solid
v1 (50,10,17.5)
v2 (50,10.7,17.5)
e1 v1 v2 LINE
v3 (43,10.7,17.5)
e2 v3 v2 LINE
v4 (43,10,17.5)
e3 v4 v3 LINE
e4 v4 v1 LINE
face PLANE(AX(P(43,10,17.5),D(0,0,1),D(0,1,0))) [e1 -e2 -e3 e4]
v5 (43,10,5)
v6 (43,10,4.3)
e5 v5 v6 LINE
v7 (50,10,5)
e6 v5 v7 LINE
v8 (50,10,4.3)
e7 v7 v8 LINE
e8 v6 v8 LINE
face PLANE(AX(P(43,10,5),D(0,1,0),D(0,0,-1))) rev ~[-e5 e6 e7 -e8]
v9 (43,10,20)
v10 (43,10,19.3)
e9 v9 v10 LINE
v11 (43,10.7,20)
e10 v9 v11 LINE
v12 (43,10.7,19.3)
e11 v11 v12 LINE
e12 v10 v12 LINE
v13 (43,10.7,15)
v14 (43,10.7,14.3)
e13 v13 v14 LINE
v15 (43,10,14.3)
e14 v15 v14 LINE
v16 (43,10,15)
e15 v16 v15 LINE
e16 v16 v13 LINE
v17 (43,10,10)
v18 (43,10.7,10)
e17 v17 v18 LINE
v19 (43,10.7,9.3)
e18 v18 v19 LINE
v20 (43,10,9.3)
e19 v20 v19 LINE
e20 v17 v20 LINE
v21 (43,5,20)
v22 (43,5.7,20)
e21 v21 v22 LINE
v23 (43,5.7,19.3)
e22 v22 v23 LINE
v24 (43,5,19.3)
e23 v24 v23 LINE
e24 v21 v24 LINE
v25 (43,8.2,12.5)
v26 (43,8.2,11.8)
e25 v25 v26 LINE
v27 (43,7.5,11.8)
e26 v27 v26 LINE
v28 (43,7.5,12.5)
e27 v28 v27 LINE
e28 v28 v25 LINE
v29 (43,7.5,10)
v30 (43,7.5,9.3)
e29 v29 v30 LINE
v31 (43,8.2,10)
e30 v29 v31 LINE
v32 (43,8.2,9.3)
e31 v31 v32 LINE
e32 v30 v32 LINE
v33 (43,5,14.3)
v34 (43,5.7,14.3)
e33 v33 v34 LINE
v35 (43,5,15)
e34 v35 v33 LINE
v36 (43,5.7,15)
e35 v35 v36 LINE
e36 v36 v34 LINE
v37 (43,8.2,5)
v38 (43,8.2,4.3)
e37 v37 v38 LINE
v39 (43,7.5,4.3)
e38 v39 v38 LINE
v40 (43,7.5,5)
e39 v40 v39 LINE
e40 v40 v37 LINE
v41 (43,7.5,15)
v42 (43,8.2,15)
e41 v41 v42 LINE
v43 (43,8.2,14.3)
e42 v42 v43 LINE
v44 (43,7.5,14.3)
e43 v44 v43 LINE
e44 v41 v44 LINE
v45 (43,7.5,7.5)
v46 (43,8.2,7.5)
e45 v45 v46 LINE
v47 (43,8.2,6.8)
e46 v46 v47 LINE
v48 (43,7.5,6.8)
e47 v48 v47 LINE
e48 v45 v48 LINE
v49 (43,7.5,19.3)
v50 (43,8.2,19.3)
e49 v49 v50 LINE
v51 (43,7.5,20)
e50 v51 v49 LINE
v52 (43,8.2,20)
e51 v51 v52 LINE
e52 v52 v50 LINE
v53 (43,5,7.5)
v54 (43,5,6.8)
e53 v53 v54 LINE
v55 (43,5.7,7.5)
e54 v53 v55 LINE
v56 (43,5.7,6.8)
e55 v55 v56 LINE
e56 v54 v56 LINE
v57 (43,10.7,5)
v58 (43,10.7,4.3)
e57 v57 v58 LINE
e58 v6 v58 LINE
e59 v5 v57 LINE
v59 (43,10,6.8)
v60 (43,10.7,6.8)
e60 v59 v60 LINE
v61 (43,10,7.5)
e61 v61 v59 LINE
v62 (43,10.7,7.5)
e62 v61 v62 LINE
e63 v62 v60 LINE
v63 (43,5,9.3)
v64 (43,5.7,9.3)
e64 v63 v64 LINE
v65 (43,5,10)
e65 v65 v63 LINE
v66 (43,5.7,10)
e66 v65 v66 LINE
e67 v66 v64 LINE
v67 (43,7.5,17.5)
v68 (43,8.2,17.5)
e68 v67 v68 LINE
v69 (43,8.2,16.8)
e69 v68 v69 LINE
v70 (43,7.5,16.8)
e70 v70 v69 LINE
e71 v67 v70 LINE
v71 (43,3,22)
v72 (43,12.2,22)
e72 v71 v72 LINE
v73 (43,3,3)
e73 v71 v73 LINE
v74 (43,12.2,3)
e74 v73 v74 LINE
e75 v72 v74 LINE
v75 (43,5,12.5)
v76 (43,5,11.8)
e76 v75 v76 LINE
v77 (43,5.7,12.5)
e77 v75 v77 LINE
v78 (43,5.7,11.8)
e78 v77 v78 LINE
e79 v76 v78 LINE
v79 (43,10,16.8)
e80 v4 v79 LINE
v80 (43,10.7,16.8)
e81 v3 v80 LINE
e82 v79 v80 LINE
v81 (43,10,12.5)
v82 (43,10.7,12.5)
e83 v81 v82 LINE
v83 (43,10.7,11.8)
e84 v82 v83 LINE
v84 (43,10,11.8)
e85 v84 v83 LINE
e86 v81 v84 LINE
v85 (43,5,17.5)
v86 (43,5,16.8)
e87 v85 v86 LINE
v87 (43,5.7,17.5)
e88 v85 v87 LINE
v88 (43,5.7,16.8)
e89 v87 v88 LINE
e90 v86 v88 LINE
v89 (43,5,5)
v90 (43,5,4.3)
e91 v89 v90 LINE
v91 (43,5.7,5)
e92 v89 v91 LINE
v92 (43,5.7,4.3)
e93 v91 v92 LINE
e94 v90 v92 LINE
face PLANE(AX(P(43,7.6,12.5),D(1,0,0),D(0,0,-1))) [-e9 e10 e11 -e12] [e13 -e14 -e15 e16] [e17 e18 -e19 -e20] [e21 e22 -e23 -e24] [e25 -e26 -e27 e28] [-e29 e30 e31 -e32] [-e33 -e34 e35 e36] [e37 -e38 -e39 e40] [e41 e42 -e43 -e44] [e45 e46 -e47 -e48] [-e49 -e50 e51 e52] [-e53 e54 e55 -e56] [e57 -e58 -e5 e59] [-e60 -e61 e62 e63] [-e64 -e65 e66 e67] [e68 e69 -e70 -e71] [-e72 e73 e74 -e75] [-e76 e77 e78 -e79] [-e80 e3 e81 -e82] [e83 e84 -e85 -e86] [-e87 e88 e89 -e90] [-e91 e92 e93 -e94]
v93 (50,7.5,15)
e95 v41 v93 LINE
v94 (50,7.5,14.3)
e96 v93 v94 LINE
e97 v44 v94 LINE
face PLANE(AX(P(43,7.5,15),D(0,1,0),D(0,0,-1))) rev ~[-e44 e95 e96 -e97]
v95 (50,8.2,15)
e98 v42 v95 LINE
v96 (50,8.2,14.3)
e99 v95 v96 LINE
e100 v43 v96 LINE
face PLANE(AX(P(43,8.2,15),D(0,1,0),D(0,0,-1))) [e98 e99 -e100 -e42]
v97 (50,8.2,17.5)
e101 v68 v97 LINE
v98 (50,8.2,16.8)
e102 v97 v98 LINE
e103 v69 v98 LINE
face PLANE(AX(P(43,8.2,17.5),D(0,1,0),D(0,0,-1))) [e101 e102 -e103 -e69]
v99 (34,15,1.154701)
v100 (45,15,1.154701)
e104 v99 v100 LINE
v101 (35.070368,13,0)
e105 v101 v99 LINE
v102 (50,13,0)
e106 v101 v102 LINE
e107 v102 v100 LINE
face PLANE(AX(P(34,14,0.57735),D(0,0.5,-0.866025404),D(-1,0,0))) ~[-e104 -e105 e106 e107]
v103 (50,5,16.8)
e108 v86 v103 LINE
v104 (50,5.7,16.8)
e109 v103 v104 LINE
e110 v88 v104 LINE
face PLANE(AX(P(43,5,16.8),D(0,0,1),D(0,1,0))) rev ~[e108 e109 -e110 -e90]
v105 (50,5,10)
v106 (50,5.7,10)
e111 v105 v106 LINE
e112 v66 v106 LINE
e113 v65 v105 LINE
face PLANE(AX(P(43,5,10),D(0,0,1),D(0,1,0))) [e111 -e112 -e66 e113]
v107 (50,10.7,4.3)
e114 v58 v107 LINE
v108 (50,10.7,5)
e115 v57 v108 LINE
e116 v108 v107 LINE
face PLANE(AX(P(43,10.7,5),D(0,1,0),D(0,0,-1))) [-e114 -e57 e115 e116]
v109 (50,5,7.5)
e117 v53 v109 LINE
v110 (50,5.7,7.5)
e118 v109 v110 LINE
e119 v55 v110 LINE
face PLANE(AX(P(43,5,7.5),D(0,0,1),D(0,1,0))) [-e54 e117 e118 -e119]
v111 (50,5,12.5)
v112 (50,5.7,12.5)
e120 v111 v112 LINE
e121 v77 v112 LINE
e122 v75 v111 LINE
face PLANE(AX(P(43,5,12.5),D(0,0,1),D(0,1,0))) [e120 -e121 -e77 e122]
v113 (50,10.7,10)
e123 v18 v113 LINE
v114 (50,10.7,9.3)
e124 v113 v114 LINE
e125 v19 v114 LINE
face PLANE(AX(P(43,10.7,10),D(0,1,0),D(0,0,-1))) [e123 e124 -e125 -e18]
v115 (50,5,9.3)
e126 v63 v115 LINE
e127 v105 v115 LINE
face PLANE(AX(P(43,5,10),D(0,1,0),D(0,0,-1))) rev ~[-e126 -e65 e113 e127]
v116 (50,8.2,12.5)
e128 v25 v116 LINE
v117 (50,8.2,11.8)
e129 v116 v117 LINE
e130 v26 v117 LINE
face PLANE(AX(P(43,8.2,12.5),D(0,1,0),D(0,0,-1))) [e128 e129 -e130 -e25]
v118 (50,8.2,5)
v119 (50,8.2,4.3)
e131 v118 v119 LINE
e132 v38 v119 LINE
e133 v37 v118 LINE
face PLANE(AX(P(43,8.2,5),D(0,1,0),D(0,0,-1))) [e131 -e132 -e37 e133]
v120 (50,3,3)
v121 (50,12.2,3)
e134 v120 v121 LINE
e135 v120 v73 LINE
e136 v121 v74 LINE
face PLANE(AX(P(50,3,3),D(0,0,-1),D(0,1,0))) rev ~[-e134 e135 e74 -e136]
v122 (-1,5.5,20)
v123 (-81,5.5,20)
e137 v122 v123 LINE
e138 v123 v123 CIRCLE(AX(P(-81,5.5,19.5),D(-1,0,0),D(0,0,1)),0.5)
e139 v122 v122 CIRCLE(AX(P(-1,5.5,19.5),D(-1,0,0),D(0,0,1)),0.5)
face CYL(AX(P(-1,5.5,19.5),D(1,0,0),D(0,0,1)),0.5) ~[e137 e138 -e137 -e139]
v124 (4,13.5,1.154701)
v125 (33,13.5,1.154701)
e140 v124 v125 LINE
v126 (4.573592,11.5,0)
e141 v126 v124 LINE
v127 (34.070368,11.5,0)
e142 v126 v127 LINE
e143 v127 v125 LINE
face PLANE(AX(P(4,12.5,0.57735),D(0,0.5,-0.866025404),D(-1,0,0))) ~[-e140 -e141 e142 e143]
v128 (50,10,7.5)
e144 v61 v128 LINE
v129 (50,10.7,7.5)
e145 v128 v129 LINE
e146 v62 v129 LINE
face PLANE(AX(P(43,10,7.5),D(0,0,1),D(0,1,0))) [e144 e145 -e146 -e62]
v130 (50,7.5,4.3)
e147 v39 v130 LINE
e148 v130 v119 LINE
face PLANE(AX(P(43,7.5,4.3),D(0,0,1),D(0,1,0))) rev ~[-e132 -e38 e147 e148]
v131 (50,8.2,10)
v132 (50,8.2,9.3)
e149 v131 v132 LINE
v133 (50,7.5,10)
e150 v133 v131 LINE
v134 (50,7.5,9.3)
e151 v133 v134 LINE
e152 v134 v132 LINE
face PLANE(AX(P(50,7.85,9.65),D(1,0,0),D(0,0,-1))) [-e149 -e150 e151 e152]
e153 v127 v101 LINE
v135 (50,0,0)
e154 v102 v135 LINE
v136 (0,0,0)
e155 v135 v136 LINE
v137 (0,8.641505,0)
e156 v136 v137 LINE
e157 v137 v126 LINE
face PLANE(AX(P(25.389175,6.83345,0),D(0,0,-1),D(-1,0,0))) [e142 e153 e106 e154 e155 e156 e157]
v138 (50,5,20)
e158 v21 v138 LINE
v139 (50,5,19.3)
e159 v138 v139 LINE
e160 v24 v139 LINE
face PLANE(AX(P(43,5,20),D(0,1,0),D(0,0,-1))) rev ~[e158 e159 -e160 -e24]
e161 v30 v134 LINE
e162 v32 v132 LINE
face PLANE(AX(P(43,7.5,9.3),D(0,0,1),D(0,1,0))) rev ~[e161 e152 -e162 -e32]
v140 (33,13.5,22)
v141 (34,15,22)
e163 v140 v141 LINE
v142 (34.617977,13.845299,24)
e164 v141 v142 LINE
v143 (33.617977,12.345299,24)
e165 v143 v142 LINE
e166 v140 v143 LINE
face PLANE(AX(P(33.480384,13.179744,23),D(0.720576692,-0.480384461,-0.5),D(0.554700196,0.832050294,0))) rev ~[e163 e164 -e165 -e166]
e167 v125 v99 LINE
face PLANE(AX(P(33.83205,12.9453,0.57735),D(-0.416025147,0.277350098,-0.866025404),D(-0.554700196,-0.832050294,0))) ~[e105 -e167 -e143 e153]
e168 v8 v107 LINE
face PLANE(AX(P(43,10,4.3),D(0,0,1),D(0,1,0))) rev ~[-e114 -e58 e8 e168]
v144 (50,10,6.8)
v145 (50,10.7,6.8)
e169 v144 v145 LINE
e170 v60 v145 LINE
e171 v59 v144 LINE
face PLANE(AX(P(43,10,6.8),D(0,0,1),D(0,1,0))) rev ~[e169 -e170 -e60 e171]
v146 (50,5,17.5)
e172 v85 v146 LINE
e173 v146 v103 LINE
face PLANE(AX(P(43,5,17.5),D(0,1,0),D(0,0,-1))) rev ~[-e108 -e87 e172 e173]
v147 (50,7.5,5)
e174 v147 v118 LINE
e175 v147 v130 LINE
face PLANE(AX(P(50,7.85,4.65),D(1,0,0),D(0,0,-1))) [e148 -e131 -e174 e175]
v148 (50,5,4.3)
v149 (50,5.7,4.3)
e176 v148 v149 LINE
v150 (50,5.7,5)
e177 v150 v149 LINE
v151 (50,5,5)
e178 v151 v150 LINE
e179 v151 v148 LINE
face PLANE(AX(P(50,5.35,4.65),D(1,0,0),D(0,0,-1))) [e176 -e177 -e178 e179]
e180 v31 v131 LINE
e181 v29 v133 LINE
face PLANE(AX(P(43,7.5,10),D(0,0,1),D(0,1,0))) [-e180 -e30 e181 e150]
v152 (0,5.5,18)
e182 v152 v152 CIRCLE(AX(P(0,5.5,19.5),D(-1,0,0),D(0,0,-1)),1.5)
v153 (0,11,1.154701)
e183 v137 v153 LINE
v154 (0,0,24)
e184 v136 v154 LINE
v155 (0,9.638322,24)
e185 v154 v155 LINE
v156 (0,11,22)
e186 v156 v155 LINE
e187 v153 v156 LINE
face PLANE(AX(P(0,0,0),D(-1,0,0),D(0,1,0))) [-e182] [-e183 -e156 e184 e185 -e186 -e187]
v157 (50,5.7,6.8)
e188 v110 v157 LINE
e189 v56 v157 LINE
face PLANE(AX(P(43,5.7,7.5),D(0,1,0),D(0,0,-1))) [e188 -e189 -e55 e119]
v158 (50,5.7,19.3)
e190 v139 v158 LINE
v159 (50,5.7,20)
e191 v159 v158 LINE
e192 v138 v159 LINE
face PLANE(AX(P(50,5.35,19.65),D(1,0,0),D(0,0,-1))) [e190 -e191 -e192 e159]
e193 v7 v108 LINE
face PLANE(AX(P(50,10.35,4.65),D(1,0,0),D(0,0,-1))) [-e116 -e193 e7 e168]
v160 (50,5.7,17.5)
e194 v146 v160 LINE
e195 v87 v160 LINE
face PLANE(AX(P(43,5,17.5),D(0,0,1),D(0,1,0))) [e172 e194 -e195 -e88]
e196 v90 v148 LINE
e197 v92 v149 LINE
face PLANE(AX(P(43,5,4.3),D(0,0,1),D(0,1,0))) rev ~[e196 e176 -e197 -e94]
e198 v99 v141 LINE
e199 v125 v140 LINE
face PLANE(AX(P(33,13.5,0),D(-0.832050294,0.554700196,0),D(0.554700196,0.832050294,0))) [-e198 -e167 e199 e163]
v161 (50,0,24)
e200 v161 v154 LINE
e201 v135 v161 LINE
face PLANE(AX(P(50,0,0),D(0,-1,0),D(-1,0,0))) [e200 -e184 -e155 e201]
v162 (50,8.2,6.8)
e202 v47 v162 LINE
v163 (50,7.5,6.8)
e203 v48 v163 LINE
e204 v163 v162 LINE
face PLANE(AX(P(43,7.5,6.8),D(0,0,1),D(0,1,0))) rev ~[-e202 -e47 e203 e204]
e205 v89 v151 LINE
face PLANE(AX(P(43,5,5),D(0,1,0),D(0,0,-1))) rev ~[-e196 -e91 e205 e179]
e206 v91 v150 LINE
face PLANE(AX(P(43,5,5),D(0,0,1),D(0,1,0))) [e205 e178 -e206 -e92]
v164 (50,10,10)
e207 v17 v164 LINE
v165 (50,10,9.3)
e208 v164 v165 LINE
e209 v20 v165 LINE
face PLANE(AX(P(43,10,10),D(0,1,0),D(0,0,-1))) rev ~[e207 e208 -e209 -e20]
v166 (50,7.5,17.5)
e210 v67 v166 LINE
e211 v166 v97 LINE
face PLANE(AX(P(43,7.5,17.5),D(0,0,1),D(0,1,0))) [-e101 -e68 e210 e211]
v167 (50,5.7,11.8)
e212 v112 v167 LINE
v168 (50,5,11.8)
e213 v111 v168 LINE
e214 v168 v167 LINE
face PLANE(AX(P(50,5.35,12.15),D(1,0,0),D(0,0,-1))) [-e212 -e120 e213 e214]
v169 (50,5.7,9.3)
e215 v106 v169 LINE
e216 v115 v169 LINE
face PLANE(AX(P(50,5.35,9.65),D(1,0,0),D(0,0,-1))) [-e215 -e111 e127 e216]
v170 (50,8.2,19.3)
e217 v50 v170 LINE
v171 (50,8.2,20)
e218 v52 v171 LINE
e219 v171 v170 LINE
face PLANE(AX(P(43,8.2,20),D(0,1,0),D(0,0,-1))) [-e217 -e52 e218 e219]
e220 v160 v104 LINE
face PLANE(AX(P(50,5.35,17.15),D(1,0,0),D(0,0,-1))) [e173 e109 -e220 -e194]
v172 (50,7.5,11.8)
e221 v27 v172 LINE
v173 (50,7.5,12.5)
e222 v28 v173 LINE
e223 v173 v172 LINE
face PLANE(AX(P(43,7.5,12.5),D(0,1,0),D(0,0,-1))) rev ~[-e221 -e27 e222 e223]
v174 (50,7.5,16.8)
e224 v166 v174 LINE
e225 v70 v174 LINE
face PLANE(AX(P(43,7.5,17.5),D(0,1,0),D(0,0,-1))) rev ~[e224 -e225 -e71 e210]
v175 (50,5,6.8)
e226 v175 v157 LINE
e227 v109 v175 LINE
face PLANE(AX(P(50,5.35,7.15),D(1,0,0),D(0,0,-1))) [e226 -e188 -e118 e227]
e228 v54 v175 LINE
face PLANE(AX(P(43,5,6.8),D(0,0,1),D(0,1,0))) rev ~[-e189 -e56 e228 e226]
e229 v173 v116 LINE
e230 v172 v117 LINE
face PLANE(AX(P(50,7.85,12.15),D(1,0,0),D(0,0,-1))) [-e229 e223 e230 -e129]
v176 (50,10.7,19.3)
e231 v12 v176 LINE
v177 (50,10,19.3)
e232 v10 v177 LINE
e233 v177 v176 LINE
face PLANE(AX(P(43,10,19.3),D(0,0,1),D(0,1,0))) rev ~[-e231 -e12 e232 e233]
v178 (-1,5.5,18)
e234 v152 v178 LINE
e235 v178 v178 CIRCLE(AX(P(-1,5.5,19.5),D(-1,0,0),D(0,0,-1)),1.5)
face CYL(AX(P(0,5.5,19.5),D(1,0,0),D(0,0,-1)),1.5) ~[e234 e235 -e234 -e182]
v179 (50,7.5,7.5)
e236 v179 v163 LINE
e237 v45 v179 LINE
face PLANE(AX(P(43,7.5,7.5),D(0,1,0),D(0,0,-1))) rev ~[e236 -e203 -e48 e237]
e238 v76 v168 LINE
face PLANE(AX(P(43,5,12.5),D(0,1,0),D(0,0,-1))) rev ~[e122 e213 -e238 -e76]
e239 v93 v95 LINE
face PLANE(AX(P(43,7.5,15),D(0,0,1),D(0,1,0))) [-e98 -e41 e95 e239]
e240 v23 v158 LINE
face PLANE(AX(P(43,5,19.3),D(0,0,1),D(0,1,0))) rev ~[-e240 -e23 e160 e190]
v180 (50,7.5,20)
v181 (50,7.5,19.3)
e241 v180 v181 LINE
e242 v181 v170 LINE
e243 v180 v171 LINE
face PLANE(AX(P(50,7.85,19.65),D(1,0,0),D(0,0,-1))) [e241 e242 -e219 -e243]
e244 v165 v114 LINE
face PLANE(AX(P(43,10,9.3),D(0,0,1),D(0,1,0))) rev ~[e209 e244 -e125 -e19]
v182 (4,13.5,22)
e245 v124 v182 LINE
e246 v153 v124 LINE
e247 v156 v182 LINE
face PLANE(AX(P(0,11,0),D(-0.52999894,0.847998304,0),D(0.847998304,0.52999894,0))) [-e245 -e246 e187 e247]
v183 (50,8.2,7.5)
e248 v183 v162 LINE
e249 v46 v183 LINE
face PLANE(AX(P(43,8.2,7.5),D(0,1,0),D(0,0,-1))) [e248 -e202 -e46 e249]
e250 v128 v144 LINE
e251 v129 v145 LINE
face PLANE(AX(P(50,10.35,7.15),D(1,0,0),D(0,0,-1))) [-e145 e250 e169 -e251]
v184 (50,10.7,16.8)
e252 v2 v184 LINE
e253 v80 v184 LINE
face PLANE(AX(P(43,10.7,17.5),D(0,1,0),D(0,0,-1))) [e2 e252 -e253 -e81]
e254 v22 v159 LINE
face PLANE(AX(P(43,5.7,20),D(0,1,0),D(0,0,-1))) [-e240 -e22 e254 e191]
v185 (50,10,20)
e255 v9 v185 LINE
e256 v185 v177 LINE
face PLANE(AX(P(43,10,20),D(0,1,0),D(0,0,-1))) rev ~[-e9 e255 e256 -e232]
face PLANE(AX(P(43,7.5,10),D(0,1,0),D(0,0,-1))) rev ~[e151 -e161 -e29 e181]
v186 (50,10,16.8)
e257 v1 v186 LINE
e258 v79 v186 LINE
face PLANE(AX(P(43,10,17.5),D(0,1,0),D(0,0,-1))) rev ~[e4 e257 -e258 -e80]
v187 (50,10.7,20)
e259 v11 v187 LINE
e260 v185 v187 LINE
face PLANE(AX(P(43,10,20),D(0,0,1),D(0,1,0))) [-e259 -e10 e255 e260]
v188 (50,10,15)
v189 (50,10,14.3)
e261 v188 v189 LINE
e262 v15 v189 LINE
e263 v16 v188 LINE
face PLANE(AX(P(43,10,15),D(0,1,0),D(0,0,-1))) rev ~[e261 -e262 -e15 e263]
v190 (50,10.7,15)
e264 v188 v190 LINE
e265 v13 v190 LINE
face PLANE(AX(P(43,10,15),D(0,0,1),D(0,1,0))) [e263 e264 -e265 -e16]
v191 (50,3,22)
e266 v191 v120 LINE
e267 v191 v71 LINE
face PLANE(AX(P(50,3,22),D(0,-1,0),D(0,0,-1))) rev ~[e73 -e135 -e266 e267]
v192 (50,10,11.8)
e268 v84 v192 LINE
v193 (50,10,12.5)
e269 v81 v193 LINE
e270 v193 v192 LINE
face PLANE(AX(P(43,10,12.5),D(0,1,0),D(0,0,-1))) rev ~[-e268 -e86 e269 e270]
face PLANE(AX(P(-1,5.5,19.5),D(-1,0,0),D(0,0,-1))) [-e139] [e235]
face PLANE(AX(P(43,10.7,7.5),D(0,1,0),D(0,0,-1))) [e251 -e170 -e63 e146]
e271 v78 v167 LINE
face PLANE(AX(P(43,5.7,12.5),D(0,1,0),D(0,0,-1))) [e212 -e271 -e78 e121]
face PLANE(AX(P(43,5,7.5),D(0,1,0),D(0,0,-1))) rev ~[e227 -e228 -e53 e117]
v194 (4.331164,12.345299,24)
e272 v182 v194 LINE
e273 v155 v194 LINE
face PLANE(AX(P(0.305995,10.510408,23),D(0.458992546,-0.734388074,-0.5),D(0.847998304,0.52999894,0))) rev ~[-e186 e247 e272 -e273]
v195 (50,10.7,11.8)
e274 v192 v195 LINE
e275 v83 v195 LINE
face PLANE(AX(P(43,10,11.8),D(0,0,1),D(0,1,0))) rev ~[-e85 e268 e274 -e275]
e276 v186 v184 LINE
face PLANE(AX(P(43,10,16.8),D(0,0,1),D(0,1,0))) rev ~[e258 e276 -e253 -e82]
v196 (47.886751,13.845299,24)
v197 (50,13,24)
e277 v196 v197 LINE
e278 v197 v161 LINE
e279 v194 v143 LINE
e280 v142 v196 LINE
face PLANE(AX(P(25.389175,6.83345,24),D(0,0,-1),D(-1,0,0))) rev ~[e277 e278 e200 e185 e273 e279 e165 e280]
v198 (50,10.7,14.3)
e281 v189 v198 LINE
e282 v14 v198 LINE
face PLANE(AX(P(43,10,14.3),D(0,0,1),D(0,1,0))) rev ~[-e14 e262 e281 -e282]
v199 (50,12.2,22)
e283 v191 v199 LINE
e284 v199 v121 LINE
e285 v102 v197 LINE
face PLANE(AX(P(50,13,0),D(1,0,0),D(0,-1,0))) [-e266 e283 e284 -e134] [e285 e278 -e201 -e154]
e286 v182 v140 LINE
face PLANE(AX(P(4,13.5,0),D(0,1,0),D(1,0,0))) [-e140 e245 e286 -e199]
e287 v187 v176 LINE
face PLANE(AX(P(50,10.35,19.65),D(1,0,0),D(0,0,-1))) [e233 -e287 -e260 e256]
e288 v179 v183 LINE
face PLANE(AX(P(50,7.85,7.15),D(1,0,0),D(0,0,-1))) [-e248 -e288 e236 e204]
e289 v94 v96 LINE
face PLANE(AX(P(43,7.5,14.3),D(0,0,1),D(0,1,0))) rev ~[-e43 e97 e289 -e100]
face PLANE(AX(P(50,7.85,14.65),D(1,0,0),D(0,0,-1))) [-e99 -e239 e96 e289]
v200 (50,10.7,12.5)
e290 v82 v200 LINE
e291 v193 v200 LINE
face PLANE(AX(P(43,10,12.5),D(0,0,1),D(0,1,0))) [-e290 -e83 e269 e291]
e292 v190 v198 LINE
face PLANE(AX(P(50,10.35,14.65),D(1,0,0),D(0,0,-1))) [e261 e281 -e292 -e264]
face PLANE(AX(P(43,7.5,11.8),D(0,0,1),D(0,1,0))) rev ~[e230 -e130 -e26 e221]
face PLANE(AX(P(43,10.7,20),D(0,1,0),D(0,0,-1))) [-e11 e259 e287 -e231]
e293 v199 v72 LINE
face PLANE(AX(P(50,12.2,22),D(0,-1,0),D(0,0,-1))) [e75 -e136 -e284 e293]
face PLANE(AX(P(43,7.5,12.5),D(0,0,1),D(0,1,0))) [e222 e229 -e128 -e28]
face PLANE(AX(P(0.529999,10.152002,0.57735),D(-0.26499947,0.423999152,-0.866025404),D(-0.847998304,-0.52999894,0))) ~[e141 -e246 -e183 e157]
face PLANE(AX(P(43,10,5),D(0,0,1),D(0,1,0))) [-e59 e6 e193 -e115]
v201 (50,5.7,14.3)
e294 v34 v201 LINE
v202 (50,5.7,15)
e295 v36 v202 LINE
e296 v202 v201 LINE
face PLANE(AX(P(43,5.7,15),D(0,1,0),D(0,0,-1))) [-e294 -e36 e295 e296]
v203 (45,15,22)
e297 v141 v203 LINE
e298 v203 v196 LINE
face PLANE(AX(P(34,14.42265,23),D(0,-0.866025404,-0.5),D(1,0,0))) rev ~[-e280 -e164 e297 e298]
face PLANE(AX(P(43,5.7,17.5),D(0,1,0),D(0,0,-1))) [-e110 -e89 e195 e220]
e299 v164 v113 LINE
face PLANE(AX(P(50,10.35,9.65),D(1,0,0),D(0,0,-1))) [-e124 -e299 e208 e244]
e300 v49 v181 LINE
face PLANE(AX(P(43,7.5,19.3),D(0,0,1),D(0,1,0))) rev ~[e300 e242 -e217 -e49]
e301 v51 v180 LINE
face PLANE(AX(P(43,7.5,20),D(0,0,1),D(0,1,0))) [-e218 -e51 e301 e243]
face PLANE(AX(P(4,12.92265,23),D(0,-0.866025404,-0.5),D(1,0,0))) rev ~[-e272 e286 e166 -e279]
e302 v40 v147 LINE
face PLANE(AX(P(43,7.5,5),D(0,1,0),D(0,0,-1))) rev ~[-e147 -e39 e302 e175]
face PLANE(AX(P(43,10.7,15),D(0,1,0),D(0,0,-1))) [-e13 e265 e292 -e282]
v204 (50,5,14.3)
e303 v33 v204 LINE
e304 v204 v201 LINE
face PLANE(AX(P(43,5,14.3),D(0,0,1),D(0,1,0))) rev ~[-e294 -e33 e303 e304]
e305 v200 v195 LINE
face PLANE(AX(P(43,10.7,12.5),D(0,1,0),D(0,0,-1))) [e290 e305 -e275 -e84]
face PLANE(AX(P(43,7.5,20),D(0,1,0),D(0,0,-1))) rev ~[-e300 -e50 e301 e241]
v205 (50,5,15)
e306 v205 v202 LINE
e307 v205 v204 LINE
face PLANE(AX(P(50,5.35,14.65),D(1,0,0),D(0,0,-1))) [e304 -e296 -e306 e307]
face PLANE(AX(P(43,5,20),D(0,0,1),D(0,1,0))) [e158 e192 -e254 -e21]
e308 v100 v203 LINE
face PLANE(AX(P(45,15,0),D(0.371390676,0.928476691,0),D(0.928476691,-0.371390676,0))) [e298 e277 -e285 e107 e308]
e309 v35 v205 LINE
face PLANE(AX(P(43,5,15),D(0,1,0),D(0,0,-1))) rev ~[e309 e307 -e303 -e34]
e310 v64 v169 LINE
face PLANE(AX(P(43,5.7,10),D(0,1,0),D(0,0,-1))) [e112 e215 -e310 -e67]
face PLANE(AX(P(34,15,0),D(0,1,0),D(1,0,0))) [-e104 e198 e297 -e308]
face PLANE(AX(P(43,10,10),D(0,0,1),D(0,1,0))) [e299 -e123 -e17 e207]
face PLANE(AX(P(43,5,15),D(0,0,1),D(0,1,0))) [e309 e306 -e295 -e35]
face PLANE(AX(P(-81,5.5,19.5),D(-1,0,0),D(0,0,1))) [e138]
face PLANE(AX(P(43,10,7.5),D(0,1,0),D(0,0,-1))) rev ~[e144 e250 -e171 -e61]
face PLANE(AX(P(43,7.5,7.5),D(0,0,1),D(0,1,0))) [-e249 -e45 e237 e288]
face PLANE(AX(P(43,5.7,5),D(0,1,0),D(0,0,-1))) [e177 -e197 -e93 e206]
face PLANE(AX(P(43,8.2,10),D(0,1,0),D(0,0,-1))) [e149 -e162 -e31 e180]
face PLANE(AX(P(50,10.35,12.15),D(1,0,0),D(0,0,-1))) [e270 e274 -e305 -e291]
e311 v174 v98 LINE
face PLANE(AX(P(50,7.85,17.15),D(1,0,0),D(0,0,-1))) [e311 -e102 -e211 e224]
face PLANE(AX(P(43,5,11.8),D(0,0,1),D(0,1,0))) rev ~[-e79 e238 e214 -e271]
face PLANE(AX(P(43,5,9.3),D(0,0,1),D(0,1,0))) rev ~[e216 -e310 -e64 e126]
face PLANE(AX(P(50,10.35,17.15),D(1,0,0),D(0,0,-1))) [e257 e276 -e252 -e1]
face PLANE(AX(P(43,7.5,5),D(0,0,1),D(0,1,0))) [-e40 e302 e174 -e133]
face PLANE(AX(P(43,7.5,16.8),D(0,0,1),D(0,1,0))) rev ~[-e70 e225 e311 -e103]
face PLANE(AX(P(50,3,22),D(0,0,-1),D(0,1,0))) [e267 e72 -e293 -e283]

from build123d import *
from OCP.BRepFilletAPI import BRepFilletAPI_MakeChamfer

# Parameters (mm, degrees)
BOSS_EXTRUDE1_DEPTH  = 24
SKETCH2_W            = 19
SKETCH2_H            = 9.2
CUT_EXTRUDE1_DEPTH   = 7
SKETCH3_W            = 0.7
SKETCH3_H            = 0.7
BOSS_EXTRUDE2_DEPTH  = 7
LPATTERN1_COUNT      = 7
LPATTERN1_PITCH      = 2.5
LPATTERN1_COUNT_DIR2 = 3
LPATTERN1_PITCH_DIR2 = 2.5
CHAMFER1_SIZE        = 2
CHAMFER1_SIZE2       = 1.154700538
SKETCH5_R            = 1.5
BOSS_EXTRUDE3_DEPTH  = 1
SKETCH6_R            = 0.5
BOSS_EXTRUDE4_DEPTH  = 80


with BuildPart() as part:
    # Sketch1 → Boss-Extrude1 (new body)
    with BuildSketch(Plane.XY):
        Polygon((0, 0), (0, 11), (4, 13.5), (33, 13.5), (34, 15), (45, 15), (50, 13), (50, 0), align=None)
    extrude(amount=BOSS_EXTRUDE1_DEPTH)

    # Sketch2 → Cut-Extrude1 (cut)
    with BuildSketch(Plane(origin=(50, 0, 0), x_dir=(0, 0, -1), z_dir=(1, 0, 0))):
        with Locations((-12.5, 7.6)):
            Rectangle(SKETCH2_W, SKETCH2_H)
    extrude(amount=-CUT_EXTRUDE1_DEPTH, mode=Mode.SUBTRACT)

    # Sketch3 → Boss-Extrude2 (add)
    with BuildSketch(Plane(origin=(43, 0, 0), x_dir=(0, 0, -1), z_dir=(1, 0, 0))):
        with Locations((-19.65, 5.35)):
            Rectangle(SKETCH3_W, SKETCH3_H)
    boss_extrude2 = extrude(amount=BOSS_EXTRUDE2_DEPTH)

    # LPattern1: Boss-Extrude2 7 × 3
    with Locations(*[(0, j * LPATTERN1_PITCH_DIR2, -i * LPATTERN1_PITCH) for i in range(LPATTERN1_COUNT) for j in range(LPATTERN1_COUNT_DIR2) if (i, j) != (0, 0)]):
        add(boss_extrude2)

    # Chamfer1: one chamfer whose edges measure the first distance from different faces: ONE call of the kernel's chamfer builder (chamfer() names one face for all edges)
    chamfer1_edges_1 = [part.edges().sort_by_distance(p)[0] for p in [
        (39.5, 15, 0),
        (33.5, 14.25, 0),
        (18.5, 13.5, 0),
        (2, 12.25, 0),
    ]]
    chamfer1_side_1 = [part.faces().sort_by_distance(p)[0] for p in [
        (25.603358705, 6.920985864, 0),
    ]]
    chamfer1_edges_2 = [part.edges().sort_by_distance(p)[0] for p in [
        (39.5, 15, 24),
    ]]
    chamfer1_side_2 = [part.faces().sort_by_distance(p)[0] for p in [
        (39.5, 15, 12),
    ]]
    chamfer1_edges_3 = [part.edges().sort_by_distance(p)[0] for p in [
        (33.5, 14.25, 24),
    ]]
    chamfer1_side_3 = [part.faces().sort_by_distance(p)[0] for p in [
        (33.5, 14.25, 12),
    ]]
    chamfer1_edges_4 = [part.edges().sort_by_distance(p)[0] for p in [
        (2, 12.25, 24),
    ]]
    chamfer1_side_4 = [part.faces().sort_by_distance(p)[0] for p in [
        (2, 12.25, 12),
    ]]
    chamfer1_edges_5 = [part.edges().sort_by_distance(p)[0] for p in [
        (18.5, 13.5, 24),
    ]]
    chamfer1_side_5 = [part.faces().sort_by_distance(p)[0] for p in [
        (18.5, 13.5, 12),
    ]]
    chamfer1 = BRepFilletAPI_MakeChamfer(part.part.solid().wrapped)
    for e in chamfer1_edges_1:
        chamfer1.Add(CHAMFER1_SIZE, CHAMFER1_SIZE2, e.wrapped, chamfer1_side_1[0].wrapped)  # the first distance lies on this face
    for e in chamfer1_edges_2:
        chamfer1.Add(CHAMFER1_SIZE, CHAMFER1_SIZE2, e.wrapped, chamfer1_side_2[0].wrapped)  # the first distance lies on this face
    for e in chamfer1_edges_3:
        chamfer1.Add(CHAMFER1_SIZE, CHAMFER1_SIZE2, e.wrapped, chamfer1_side_3[0].wrapped)  # the first distance lies on this face
    for e in chamfer1_edges_4:
        chamfer1.Add(CHAMFER1_SIZE, CHAMFER1_SIZE2, e.wrapped, chamfer1_side_4[0].wrapped)  # the first distance lies on this face
    for e in chamfer1_edges_5:
        chamfer1.Add(CHAMFER1_SIZE, CHAMFER1_SIZE2, e.wrapped, chamfer1_side_5[0].wrapped)  # the first distance lies on this face
    add(Compound.cast(chamfer1.Shape()), mode=Mode.REPLACE)

    # Sketch5 → Boss-Extrude3 (add)
    with BuildSketch(Plane.ZY):
        with Locations(Location((19.5, 5.5, 0), (0, 0, 180))):
            Circle(SKETCH5_R)
    extrude(amount=BOSS_EXTRUDE3_DEPTH)

    # Sketch6 → Boss-Extrude4 (add)
    with BuildSketch(Plane.ZY.offset(1)):
        with Locations((19.5, 5.5)):
            Circle(SKETCH6_R)
    extrude(amount=BOSS_EXTRUDE4_DEPTH)


solid = part.part
